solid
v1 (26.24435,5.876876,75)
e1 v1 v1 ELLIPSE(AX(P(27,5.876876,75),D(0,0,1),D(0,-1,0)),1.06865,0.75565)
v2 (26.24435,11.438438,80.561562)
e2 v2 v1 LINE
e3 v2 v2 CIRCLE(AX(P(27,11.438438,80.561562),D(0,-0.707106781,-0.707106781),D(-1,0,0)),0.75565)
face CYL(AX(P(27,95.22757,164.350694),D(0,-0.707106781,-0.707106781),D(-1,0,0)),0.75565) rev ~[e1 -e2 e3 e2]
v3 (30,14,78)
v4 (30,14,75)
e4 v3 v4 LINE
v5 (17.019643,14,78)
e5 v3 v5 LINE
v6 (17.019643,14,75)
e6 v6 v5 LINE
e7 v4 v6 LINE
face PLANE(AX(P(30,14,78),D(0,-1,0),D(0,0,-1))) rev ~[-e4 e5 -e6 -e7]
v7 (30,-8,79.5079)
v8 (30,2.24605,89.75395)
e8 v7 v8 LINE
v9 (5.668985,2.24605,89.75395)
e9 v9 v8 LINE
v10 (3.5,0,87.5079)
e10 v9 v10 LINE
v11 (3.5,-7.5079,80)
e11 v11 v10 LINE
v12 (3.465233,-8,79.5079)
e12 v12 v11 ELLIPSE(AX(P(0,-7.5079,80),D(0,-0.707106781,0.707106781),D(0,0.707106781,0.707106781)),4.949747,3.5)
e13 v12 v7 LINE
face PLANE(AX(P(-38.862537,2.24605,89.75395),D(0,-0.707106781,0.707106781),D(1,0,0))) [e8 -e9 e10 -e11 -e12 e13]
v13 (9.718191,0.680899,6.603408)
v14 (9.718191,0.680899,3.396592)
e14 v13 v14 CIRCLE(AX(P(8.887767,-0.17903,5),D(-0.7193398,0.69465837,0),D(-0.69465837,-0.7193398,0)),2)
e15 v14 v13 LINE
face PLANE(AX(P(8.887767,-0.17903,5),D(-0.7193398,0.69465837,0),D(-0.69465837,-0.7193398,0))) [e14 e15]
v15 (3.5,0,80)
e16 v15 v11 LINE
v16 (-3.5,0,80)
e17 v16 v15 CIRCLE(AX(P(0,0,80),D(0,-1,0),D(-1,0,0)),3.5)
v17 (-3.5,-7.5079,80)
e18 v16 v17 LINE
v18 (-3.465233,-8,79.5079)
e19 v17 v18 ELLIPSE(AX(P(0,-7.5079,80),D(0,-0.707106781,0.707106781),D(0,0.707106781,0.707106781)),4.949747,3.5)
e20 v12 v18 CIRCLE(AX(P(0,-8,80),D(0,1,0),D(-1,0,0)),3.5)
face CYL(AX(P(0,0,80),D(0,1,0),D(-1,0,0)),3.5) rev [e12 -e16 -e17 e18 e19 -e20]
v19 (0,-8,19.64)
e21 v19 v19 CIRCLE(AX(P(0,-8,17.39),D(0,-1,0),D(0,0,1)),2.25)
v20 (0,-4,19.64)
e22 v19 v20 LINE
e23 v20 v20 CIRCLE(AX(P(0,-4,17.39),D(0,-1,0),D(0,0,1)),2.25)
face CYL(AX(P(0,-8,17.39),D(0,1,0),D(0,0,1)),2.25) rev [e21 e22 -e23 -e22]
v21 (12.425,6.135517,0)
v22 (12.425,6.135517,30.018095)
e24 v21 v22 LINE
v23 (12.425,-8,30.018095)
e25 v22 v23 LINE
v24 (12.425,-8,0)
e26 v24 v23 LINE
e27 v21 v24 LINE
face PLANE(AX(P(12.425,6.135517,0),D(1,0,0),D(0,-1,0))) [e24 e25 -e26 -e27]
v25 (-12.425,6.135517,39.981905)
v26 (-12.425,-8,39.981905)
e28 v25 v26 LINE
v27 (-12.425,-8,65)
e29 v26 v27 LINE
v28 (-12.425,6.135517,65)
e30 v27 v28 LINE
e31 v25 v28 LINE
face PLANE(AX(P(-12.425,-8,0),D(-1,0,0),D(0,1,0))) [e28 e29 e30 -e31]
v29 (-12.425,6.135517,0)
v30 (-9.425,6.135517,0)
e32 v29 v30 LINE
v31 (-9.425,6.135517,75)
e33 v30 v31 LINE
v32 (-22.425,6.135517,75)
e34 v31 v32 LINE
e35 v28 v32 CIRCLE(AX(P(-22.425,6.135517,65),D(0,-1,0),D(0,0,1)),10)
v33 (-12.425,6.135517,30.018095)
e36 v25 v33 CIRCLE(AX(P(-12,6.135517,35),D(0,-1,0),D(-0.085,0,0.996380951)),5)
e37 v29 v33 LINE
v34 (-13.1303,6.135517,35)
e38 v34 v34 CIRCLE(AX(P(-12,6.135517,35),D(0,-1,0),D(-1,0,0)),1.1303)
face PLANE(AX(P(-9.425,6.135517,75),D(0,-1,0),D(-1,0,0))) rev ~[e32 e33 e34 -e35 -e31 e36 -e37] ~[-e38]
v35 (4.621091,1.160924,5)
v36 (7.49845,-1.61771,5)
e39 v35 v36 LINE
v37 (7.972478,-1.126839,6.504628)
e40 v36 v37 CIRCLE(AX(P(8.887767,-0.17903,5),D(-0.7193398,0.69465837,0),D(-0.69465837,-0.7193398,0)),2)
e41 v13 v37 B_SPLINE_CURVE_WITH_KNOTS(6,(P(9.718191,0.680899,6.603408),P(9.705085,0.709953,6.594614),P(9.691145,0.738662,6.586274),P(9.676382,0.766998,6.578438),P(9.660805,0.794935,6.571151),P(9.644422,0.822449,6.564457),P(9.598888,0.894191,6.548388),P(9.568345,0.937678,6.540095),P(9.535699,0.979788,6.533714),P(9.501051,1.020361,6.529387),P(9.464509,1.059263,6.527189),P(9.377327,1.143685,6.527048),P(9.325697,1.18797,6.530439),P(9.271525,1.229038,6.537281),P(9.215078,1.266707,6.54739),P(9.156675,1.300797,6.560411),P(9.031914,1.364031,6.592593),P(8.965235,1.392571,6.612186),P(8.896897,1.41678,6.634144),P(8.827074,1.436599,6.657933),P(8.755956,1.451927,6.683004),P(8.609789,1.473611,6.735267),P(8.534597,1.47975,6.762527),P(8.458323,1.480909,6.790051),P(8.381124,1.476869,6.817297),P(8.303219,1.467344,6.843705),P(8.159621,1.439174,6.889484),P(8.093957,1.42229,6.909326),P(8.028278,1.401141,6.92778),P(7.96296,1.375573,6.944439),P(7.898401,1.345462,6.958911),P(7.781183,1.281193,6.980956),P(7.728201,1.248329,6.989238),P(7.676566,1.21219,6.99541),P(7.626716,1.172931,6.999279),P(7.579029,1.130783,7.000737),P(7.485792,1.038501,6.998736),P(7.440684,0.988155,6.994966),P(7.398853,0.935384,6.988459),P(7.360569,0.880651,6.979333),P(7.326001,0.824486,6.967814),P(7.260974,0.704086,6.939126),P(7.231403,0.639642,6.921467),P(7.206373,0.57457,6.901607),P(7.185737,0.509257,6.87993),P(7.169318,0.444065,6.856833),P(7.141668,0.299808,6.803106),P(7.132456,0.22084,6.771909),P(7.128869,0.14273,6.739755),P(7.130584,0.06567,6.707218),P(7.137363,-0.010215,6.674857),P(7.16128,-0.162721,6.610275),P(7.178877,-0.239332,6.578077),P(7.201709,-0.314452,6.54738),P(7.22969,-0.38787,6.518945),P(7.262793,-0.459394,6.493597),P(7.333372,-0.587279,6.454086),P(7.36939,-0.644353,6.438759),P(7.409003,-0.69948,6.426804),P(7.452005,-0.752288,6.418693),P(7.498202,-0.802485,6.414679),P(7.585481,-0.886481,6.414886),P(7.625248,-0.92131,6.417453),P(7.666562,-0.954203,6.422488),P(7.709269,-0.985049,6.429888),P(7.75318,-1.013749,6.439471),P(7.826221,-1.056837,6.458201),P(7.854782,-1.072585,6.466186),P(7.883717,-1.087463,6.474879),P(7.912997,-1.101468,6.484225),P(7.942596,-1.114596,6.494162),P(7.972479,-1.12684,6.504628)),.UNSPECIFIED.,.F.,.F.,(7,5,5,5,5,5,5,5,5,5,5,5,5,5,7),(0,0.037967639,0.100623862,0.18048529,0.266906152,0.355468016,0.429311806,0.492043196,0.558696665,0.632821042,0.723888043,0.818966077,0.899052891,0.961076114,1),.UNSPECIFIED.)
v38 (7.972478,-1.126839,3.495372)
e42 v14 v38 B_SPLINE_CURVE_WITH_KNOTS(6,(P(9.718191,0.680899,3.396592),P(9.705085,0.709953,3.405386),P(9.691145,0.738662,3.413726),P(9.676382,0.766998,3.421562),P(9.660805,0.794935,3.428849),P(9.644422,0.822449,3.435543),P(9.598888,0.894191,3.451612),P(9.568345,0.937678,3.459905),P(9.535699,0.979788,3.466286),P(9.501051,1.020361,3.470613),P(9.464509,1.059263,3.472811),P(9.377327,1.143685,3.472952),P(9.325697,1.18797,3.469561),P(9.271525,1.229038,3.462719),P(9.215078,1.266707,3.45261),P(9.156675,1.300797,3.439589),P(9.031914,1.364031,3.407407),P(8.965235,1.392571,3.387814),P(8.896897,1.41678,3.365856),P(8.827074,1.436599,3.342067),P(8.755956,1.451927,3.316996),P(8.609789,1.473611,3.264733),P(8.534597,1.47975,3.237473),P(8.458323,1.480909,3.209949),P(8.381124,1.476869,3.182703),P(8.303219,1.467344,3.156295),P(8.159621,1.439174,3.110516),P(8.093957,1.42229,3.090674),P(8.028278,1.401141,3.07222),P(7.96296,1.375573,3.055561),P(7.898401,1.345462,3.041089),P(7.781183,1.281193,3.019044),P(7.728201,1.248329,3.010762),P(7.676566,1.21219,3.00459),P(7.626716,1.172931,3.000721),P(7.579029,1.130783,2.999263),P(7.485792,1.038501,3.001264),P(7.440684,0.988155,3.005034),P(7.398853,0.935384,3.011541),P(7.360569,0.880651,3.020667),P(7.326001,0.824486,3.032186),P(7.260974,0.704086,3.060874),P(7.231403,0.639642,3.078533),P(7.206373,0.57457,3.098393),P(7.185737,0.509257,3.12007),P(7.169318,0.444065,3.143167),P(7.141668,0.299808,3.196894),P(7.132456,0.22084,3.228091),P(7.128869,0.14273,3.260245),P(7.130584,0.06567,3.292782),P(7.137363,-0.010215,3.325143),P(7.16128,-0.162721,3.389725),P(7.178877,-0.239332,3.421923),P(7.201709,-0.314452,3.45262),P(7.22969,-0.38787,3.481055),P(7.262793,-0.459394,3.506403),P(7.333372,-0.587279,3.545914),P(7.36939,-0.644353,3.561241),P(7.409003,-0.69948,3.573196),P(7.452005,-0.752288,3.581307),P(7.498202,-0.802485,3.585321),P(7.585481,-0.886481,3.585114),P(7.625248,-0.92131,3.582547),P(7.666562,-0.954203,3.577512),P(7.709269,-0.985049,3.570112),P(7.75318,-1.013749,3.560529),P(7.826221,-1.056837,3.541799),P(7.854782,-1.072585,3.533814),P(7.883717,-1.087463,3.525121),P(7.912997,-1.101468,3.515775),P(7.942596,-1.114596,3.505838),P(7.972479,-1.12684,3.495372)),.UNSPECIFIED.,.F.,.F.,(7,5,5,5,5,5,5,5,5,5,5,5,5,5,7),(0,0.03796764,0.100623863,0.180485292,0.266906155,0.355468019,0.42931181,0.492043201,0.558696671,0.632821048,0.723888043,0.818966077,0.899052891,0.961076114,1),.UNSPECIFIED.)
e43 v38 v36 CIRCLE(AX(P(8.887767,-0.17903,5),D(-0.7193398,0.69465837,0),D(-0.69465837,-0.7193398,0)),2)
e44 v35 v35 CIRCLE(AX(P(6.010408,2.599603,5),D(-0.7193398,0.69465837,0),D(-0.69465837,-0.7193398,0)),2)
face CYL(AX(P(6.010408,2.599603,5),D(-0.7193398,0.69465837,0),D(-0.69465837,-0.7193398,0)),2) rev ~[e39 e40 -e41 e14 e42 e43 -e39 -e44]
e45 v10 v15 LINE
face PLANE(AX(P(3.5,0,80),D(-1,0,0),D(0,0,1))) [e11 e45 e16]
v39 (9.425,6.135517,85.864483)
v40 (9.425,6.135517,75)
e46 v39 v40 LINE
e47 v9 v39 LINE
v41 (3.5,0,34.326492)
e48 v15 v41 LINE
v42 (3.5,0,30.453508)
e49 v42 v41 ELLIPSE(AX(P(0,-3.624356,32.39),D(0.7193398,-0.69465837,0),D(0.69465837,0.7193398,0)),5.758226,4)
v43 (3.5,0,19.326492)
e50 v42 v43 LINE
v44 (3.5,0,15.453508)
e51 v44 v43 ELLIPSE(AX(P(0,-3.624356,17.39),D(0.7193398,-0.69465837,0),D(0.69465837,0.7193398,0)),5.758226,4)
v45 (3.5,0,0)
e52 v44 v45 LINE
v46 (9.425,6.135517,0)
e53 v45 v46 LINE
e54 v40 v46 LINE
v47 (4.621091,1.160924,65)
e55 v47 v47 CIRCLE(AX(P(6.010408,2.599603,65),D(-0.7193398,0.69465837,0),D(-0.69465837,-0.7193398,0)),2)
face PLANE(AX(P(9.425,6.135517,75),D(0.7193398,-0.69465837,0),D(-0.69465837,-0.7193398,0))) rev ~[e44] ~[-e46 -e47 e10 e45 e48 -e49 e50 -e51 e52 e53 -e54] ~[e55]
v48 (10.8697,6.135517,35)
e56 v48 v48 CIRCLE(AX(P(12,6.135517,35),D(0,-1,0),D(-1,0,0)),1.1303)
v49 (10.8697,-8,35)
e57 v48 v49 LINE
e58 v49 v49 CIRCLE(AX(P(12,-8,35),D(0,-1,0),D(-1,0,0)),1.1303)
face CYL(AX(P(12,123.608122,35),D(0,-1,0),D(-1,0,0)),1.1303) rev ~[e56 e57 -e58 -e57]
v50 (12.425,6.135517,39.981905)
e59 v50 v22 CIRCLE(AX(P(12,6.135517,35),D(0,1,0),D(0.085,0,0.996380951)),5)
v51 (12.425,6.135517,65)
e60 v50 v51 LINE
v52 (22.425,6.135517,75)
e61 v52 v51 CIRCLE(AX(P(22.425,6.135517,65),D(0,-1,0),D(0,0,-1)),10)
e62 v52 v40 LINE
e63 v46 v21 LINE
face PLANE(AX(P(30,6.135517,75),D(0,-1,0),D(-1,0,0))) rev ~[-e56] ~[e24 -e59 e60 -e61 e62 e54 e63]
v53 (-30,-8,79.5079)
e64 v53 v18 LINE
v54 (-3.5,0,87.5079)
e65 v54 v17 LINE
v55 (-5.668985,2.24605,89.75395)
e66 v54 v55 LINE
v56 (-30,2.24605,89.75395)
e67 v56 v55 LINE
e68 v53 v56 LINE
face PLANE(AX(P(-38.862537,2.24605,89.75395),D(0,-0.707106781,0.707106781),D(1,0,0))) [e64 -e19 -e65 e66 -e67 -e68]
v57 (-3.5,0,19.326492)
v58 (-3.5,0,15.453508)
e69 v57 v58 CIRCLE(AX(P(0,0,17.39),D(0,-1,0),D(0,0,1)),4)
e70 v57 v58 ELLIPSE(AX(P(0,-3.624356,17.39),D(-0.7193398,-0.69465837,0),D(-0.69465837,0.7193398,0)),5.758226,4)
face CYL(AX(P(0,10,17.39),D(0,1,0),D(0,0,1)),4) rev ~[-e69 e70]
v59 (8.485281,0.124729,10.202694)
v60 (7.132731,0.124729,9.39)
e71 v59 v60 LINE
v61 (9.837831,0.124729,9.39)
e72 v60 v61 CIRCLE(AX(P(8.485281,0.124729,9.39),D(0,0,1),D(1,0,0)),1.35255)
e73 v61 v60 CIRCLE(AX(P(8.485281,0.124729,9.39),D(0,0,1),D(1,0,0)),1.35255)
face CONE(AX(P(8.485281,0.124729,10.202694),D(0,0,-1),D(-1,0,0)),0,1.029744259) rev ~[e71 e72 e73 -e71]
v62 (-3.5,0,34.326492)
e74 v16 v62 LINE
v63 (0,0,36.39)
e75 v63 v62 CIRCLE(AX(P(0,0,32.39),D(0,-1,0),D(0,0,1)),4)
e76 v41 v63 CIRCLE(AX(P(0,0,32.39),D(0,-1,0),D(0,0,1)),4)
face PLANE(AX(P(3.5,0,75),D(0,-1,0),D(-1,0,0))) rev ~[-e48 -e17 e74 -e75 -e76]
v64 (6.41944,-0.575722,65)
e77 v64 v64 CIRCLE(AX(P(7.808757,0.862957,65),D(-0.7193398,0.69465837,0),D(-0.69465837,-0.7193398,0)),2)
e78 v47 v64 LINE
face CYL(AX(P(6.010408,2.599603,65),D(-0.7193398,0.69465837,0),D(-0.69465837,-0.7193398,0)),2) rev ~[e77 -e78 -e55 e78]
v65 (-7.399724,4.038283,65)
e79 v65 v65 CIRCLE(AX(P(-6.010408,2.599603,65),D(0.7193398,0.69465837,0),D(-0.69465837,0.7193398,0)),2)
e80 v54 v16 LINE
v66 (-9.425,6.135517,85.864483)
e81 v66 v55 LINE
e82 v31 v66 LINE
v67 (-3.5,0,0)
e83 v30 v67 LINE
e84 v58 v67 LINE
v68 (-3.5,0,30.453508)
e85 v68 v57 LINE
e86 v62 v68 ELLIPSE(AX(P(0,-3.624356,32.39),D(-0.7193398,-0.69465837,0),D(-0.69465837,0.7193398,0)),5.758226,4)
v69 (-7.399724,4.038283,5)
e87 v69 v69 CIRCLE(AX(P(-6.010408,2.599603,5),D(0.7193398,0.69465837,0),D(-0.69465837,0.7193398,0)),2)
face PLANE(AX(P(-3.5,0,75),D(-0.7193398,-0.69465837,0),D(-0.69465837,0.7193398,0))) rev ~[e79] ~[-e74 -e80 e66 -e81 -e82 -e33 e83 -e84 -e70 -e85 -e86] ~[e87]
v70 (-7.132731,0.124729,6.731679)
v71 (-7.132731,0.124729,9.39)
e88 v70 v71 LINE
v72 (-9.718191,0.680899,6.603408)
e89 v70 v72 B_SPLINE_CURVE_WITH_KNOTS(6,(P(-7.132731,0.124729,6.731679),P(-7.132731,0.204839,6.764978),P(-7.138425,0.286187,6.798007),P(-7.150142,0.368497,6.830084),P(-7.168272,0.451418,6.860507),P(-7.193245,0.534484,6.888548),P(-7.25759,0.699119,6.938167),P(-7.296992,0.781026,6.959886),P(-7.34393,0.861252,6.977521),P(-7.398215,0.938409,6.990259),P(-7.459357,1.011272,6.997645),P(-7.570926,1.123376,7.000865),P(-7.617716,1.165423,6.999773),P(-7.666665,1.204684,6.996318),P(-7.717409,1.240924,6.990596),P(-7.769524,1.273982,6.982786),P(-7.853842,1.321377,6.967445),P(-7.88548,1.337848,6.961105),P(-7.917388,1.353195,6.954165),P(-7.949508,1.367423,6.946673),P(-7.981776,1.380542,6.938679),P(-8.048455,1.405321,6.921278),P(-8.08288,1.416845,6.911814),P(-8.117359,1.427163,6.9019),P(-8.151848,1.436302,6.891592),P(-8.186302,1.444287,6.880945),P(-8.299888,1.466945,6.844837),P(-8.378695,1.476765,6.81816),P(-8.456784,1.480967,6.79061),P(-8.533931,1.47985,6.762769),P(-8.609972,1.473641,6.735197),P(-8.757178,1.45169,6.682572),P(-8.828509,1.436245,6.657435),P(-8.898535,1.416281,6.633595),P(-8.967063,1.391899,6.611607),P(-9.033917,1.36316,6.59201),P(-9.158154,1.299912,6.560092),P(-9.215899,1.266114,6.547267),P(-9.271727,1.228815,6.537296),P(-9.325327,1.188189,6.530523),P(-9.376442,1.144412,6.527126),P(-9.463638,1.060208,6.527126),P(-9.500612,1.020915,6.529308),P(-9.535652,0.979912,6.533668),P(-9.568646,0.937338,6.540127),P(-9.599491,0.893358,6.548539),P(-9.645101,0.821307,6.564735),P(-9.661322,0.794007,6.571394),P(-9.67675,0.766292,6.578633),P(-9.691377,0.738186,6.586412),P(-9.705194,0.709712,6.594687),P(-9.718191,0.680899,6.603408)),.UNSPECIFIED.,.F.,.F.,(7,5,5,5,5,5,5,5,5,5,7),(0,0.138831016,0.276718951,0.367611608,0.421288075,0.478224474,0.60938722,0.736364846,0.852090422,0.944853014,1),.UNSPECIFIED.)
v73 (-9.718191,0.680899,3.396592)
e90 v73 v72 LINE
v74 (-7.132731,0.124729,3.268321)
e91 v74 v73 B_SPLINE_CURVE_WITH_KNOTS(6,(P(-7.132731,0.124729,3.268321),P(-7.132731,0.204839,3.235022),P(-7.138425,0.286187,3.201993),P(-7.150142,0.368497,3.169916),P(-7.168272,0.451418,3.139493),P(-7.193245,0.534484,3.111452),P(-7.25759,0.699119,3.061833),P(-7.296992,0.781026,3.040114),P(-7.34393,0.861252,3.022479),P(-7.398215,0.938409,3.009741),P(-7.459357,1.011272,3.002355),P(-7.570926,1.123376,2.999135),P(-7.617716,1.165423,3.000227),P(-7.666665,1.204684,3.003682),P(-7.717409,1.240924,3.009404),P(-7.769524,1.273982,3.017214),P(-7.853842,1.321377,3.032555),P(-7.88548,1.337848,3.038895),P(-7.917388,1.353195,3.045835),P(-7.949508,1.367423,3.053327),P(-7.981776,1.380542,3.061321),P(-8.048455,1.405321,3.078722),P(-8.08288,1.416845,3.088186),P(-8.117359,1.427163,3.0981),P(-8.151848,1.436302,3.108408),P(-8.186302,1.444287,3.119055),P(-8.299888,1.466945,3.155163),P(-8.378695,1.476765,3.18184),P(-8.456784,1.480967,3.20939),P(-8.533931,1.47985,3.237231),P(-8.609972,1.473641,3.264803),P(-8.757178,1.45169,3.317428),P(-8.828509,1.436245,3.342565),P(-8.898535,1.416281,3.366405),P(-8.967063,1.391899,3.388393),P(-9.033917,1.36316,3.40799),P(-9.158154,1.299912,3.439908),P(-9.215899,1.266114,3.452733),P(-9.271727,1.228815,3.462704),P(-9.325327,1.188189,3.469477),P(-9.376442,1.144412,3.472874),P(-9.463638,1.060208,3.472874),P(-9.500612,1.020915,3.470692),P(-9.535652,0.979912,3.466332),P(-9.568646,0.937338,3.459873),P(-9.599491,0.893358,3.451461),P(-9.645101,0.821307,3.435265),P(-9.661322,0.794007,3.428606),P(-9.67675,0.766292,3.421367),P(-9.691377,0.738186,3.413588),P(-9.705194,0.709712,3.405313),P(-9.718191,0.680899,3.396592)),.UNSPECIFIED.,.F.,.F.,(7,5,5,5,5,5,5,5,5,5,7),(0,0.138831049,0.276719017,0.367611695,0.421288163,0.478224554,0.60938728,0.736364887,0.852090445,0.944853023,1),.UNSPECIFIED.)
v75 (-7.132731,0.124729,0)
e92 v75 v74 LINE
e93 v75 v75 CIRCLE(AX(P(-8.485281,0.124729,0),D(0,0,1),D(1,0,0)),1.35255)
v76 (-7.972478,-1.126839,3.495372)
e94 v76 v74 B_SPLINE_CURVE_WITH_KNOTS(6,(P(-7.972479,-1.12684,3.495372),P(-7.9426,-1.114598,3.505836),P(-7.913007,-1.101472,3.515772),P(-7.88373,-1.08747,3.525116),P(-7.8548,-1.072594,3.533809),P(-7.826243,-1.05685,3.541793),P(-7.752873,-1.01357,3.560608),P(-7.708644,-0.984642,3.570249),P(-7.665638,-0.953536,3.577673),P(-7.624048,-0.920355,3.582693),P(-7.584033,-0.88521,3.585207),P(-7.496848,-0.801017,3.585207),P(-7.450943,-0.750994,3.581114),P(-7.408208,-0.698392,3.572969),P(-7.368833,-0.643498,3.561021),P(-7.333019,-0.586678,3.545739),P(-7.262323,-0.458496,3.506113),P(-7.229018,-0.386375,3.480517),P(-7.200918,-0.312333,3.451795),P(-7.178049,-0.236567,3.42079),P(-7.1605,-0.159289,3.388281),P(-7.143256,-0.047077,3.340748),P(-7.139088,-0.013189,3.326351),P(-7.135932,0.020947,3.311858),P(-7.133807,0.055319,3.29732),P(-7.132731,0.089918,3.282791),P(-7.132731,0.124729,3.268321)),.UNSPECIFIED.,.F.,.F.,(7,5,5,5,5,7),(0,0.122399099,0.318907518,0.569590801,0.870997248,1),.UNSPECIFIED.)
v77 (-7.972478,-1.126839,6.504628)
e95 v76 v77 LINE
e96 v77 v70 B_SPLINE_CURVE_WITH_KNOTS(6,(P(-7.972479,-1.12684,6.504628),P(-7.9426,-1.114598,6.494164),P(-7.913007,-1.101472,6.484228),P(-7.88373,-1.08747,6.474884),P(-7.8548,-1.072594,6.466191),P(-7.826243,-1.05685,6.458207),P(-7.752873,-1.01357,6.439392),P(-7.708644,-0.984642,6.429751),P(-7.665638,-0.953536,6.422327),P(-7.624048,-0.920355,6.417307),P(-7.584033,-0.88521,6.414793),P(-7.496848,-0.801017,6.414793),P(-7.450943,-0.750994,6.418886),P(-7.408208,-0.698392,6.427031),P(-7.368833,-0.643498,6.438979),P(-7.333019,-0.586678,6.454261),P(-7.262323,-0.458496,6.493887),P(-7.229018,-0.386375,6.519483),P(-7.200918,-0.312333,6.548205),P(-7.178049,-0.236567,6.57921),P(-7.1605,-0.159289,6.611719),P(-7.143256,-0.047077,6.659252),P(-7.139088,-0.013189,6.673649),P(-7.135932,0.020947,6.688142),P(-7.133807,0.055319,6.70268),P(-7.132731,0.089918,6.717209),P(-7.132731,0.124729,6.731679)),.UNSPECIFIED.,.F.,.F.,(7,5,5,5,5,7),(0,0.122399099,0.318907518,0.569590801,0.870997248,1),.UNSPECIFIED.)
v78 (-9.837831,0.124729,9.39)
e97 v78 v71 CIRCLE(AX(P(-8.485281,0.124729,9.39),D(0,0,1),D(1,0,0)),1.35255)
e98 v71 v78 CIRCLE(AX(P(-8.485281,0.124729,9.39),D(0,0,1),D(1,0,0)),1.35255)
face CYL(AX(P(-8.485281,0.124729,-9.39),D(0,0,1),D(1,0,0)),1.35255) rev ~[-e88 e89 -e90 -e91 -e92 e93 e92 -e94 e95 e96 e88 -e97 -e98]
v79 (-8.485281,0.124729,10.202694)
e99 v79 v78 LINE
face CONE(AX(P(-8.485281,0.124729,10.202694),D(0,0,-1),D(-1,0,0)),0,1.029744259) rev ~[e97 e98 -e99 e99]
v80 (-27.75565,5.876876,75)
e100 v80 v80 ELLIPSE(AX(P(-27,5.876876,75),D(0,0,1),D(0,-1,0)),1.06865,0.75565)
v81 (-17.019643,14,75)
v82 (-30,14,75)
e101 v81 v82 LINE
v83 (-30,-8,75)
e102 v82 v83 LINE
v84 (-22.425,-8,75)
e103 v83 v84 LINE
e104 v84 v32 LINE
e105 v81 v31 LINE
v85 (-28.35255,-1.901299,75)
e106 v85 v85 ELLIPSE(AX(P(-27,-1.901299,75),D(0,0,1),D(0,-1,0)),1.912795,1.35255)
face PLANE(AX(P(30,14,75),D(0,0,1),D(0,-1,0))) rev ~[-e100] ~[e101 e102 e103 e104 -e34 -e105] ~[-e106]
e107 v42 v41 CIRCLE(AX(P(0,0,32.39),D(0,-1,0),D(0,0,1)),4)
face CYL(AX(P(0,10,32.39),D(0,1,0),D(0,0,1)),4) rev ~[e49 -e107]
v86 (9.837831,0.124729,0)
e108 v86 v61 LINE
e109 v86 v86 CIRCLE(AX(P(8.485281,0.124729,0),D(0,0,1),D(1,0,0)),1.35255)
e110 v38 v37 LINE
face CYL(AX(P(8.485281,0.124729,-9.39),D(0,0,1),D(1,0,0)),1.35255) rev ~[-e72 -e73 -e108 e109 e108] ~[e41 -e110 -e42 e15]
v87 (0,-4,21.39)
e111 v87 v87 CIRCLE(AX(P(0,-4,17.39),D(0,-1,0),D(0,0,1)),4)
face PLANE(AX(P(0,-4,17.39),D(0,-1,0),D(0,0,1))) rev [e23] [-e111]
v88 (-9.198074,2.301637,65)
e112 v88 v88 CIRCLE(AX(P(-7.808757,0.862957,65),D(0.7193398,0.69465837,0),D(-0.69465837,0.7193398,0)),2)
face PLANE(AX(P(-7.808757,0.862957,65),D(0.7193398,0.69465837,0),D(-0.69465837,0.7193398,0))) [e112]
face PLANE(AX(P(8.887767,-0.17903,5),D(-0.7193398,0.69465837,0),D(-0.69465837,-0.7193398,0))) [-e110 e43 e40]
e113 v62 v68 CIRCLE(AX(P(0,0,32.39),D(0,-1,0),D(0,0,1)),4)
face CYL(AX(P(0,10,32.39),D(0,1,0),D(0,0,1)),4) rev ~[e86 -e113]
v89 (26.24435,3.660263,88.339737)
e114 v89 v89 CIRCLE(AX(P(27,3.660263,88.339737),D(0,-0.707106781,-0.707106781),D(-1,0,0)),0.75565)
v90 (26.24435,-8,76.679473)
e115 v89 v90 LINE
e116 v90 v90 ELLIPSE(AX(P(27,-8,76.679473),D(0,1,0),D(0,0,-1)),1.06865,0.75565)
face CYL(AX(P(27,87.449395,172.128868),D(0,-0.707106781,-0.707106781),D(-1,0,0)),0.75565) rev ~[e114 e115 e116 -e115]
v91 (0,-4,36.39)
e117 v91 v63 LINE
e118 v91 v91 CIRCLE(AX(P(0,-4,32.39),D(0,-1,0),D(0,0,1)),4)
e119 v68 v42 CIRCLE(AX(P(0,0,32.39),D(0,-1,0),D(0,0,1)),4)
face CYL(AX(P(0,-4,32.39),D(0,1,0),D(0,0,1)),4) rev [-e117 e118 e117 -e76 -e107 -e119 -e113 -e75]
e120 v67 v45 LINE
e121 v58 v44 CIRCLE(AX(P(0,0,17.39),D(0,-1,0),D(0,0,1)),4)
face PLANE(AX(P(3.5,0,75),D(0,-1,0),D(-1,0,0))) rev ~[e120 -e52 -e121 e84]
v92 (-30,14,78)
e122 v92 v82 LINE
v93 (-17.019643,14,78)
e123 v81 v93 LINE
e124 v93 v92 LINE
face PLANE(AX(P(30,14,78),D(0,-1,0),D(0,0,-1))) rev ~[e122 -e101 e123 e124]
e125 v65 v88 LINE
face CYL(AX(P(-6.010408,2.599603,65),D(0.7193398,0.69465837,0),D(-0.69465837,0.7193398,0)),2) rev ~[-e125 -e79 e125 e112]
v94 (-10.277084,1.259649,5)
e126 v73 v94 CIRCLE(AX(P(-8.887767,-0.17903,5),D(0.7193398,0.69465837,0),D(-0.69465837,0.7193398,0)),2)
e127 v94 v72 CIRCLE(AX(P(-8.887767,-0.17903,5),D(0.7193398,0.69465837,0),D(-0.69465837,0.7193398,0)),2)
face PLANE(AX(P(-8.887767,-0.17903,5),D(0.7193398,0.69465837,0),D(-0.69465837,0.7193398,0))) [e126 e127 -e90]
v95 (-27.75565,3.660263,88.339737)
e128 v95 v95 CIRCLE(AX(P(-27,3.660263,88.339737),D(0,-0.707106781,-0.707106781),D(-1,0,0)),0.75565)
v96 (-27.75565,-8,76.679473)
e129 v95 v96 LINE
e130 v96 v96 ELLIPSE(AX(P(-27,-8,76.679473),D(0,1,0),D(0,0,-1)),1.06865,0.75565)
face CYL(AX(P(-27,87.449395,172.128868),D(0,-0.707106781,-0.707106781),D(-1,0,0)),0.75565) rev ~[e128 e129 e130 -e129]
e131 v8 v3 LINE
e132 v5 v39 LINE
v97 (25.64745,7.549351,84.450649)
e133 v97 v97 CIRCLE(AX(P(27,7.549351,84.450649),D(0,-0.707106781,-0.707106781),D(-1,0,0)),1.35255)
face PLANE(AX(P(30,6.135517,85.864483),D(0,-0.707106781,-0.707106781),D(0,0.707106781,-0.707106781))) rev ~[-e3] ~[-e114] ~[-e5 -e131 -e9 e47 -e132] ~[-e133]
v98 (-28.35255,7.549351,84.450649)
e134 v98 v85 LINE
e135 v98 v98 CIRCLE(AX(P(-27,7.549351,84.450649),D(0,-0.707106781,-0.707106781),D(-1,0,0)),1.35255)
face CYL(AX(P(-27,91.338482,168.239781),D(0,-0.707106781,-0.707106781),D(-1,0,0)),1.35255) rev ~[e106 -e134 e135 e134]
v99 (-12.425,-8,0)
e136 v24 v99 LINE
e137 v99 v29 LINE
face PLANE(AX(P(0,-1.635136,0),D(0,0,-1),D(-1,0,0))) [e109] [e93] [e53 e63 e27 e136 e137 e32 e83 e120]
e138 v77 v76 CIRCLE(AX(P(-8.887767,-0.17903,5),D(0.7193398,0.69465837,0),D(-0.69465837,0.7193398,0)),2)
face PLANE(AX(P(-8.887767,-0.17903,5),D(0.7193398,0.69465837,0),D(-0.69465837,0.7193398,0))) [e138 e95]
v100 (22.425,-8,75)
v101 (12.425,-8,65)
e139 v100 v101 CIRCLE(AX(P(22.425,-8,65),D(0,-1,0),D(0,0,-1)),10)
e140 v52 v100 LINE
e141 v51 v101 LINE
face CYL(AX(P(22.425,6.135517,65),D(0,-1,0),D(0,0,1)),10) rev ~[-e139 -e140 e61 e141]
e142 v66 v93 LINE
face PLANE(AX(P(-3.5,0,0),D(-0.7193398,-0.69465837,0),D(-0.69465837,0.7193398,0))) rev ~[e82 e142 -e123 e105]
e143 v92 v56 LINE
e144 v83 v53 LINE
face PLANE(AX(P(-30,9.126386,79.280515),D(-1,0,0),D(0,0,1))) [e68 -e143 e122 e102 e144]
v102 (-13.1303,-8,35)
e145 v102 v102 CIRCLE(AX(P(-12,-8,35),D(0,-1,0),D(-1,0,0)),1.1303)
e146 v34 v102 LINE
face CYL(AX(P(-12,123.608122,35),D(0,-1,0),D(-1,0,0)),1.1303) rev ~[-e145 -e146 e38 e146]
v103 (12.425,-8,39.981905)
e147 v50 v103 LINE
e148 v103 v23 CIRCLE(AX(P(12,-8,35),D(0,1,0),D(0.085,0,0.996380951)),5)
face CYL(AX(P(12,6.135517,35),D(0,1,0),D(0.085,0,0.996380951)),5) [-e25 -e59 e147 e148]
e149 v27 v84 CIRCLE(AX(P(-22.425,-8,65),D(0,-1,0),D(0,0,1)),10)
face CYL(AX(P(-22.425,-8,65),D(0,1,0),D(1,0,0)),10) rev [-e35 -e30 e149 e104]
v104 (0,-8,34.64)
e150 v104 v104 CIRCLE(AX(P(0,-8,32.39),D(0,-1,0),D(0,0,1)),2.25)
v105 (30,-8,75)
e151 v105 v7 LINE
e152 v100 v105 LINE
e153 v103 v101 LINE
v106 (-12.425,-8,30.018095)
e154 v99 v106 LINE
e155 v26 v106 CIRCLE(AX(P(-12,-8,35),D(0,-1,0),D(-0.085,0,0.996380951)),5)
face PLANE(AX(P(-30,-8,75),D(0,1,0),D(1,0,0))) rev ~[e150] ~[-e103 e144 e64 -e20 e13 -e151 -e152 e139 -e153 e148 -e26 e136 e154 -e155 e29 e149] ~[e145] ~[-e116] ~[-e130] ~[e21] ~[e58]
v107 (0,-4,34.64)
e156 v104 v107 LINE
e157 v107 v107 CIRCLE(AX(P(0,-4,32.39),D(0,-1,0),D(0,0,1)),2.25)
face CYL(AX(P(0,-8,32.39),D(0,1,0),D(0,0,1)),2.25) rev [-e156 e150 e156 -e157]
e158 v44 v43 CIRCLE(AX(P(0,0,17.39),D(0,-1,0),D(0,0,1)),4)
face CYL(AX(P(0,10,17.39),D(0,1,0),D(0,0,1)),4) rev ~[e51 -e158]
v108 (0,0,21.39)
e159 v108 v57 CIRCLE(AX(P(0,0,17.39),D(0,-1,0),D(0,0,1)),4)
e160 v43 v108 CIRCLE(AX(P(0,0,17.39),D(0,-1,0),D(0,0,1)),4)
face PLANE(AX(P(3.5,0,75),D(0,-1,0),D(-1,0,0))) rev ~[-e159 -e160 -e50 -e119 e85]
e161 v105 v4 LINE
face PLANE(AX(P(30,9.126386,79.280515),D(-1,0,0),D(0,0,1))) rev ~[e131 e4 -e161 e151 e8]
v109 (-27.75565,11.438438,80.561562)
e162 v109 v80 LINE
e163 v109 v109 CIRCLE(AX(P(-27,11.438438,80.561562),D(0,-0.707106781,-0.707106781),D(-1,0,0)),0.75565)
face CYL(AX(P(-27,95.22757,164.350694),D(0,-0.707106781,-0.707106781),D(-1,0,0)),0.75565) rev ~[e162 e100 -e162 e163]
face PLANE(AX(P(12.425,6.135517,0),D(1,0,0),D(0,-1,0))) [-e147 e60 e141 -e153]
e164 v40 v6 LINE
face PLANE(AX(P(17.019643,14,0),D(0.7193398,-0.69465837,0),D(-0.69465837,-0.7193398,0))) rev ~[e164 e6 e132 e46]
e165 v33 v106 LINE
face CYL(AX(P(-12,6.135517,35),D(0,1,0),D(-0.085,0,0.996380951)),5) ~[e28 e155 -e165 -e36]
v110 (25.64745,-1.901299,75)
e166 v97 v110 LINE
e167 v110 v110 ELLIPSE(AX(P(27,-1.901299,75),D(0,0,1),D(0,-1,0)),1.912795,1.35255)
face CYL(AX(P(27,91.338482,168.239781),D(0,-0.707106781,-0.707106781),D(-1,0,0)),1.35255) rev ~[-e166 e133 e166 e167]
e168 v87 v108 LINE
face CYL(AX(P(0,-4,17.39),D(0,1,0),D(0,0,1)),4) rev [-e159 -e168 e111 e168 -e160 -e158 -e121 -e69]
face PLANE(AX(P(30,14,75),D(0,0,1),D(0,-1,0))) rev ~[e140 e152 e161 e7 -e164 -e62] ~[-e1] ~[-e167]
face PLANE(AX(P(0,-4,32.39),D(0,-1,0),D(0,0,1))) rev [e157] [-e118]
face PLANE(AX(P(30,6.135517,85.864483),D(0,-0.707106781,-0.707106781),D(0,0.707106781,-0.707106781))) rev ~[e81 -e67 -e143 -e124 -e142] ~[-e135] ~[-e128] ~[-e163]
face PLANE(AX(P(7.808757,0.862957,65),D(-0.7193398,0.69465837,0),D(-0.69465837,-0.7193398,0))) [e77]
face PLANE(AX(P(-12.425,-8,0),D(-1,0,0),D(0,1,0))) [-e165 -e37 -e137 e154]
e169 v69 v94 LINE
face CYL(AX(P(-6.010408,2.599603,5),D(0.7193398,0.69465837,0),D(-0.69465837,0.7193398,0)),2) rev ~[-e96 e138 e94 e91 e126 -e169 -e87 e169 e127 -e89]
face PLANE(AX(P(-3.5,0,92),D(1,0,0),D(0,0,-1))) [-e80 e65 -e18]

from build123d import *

# Parameters (mm, degrees)
BOSS_EXTRUDE1_DEPTH           = 75
BOSS_EXTRUDE2_DEPTH           = 25
FILLET1_R                     = 10
CUT_EXTRUDE1_DEPTH            = 117.89311357
CBORE_FOR_M4_SHCS1_AT_2_COUNT = 2
CBORE_FOR_M4_SHCS1_AT_2_PITCH = 15
SKETCH8_R                     = 2
CUT_EXTRUDE2_DEPTH            = 4
SKETCH27_R                    = 2
CUT_EXTRUDE8_DEPTH            = 4
SKETCH29_R                    = 2
CUT_EXTRUDE9_DEPTH            = 2.5
SKETCH30_R                    = 2
CUT_EXTRUDE10_DEPTH           = 2.5
F_6_32_TAPPED_HOLE4_D         = 2.7051
F_6_32_TAPPED_HOLE4_DEPTH     = 9.39
F_6_32_TAPPED_HOLE4_TIP       = 0.81269403
BOSS_EXTRUDE4_DEPTH           = 14.135517109
F_4_40_TAPPED_HOLE1_D         = 2.2606
BOSS_EXTRUDE3_DEPTH           = 60
CUT_EXTRUDE3_DEPTH            = 118.45637488
CUT_EXTRUDE4_DEPTH            = 104.440804328
CUT_EXTRUDE5_DEPTH            = 104.440804328
F_6_32_TAPPED_HOLE3_D         = 2.7051
F_1_72_TAPPED_HOLE1_D         = 1.5113
SKETCH26_W                    = 78.957302066
SKETCH26_H                    = 14.945781294
CUT_EXTRUDE7_DEPTH            = 81.746516953
CUT_EXTRUDE11_START           = 10
SKETCH37_R                    = 4
CUT_EXTRUDE11_DEPTH           = 10


with BuildPart() as part:
    # Sketch1 → Boss-Extrude1 (new body)
    with BuildSketch(Plane.XY):
        Polygon((-3.5, 0), (3.5, 0), (9.425, 6.135517109), (12.425, 6.135517109), (12.425, -8), (-12.425, -8), (-12.425, 6.135517109), (-9.425, 6.135517109), align=None)
    extrude(amount=BOSS_EXTRUDE1_DEPTH)

    # Sketch2 → Boss-Extrude2 (add)
    with BuildSketch(Plane.XY.offset(75)):
        Polygon((-3.5, 0), (-9.425, 6.135517109), (-30, 6.135517109), (-30, -8), (30, -8), (30, 6.135517109), (9.425, 6.135517109), (3.5, 0), align=None)
    extrude(amount=BOSS_EXTRUDE2_DEPTH)

    # Fillet1
    fillet1_edges = [part.edges().sort_by_distance(p)[0] for p in [
        (-12.425, -0.932241445, 75),
        (12.425, -0.932241445, 75),
    ]]
    fillet(fillet1_edges, radius=FILLET1_R)

    # Sketch3 → Cut-Extrude1 (cut, through all)
    with BuildSketch(Plane(origin=(30, 0, 0), x_dir=(0, 0, -1), z_dir=(1, 0, 0))):
        Polygon((-100, -8), (-85.864482891, 6.135517109), (-100, 6.135517109), align=None)
    extrude(amount=-CUT_EXTRUDE1_DEPTH, mode=Mode.SUBTRACT)

    # Sketch6 → CBORE for M4 SHCS1 (revolve, cut)
    with BuildSketch(Plane(origin=(0, 0, 17.39), x_dir=(0, 0, 1), z_dir=(1, 0, 0))):
        Polygon((0, 0), (0, 8), (2.25, 8), (2.25, 4), (4, 4), (4, 0), align=None)
    cbore_for_m4_shcs1 = revolve(axis=Axis((0, 6.35, 17.39), (0, -1, 0)), mode=Mode.SUBTRACT)

    # CBORE for M4 SHCS1 at 2: CBORE for M4 SHCS1 ×2
    with Locations(*[(0, 0, i * CBORE_FOR_M4_SHCS1_AT_2_PITCH) for i in range(1, CBORE_FOR_M4_SHCS1_AT_2_COUNT)]):
        add(cbore_for_m4_shcs1, mode=Mode.SUBTRACT)

    # Sketch8 → Cut-Extrude2 (cut)
    with BuildSketch(Plane(origin=(1.811074119, -1.748933947, 0), x_dir=(0, 0, 1), z_dir=(-0.7193398003386524, 0.6946583704589959, 0))):
        with Locations(Location((5, 6.045178032, 0), (0, 0, 270))):
            Circle(SKETCH8_R)
    extrude(amount=-CUT_EXTRUDE2_DEPTH, mode=Mode.SUBTRACT)

    # Sketch27 → Cut-Extrude8 (cut)
    with BuildSketch(Plane(origin=(-1.811074119, -1.748933947, 0), x_dir=(0, 0, -1), z_dir=(0.7193398003386526, 0.6946583704589958, 0))):
        with Locations(Location((-5, 6.045178032, 0), (0, 0, 90))):
            Circle(SKETCH27_R)
    extrude(amount=-CUT_EXTRUDE8_DEPTH, mode=Mode.SUBTRACT)

    # Sketch29 → Cut-Extrude9 (cut)
    with BuildSketch(Plane(origin=(-1.811074119, -1.748933947, 0), x_dir=(0, 0, -1), z_dir=(0.7193398003386526, 0.6946583704589958, 0))):
        with Locations(Location((-65, 6.045178032, 0), (0, 0, 90))):
            Circle(SKETCH29_R)
    extrude(amount=-CUT_EXTRUDE9_DEPTH, mode=Mode.SUBTRACT)

    # Sketch30 → Cut-Extrude10 (cut)
    with BuildSketch(Plane(origin=(1.811074119, -1.748933947, 0), x_dir=(0, 0, 1), z_dir=(-0.7193398003386524, 0.6946583704589959, 0))):
        with Locations(Location((65, 6.045178032, 0), (0, 0, 270))):
            Circle(SKETCH30_R)
    extrude(amount=-CUT_EXTRUDE10_DEPTH, mode=Mode.SUBTRACT)

    # #6-32 Tapped Hole4
    with Locations(Plane(origin=(0, 0, 0), x_dir=(-1, 0, 0), z_dir=(0, 0, -1))):
        with Locations((-8.485281374, 0.124729477), (8.485281374, 0.124729477)):
            Hole(F_6_32_TAPPED_HOLE4_D / 2, depth=F_6_32_TAPPED_HOLE4_DEPTH)
            with Locations((0, 0, -(F_6_32_TAPPED_HOLE4_DEPTH + F_6_32_TAPPED_HOLE4_TIP / 2))):  # 118° drill point
                Cone(0, F_6_32_TAPPED_HOLE4_D / 2, F_6_32_TAPPED_HOLE4_TIP, mode=Mode.SUBTRACT)

    # Sketch33 → Boss-Extrude4 (add)
    with BuildSketch(Plane(origin=(0, 6.135517109, 0), x_dir=(1, 0, 0), z_dir=(0, 1, 0))):
        with BuildLine():
            Line((-12.425, -30.018095244), (-12.425, -39.981904756))
            ThreePointArc((-12.425, -39.981904756), (-17, -35), (-12.425, -30.018095244))
        make_face()
        with BuildLine():
            Line((12.425, -30.018095244), (12.425, -39.981904756))
            ThreePointArc((12.425, -39.981904756), (17, -35), (12.425, -30.018095244))
        make_face()
    extrude(amount=-BOSS_EXTRUDE4_DEPTH)

    # #4-40 Tapped Hole1 (through all)
    with Locations(Plane(origin=(0, 6.135517109, 0), x_dir=(1, 0, 0), z_dir=(0, 1, 0))):
        with Locations((-12, -35), (12, -35)):
            Hole(F_4_40_TAPPED_HOLE1_D / 2)

    # Sketch9 → Boss-Extrude3 (add)
    with BuildSketch(Plane(origin=(30, 0, 0), x_dir=(0, 0, -1), z_dir=(1, 0, 0))):
        Polygon((-85.864482891, 6.135517109), (-78, 14), (-75, 14), (-75, 6.135517109), align=None)
    extrude(amount=-BOSS_EXTRUDE3_DEPTH)

    # Sketch10 → Cut-Extrude3 (cut, through all)
    with BuildSketch(Plane(origin=(30, 0, 0), x_dir=(0, 0, -1), z_dir=(1, 0, 0))):
        Polygon((-100, -8), (-98, -6), (-98, -8), align=None)
    extrude(amount=-CUT_EXTRUDE3_DEPTH, mode=Mode.SUBTRACT)

    # Sketch11 → Cut-Extrude4 (cut, through all)
    with BuildSketch(Plane(origin=(0, 0, 0), x_dir=(-1, 0, 0), z_dir=(0, 0, -1))):
        Polygon((-3.5, 0), (3.5, 0), (17.019642847, 14), (-17.019642847, 14), align=None)
    extrude(amount=-CUT_EXTRUDE4_DEPTH, mode=Mode.SUBTRACT)

    # Sketch12 → Cut-Extrude5 (cut, through all)
    with BuildSketch(Plane(origin=(0, 0, 0), x_dir=(1, 0, 0), z_dir=(0, 1, 0))):
        with BuildLine():
            Line((3.5, -80), (3.5, -92))
            Line((3.5, -92), (-3.5, -92))
            Line((-3.5, -92), (-3.5, -80))
            ThreePointArc((-3.5, -80), (0, -76.5), (3.5, -80))
        make_face()
    extrude(amount=-CUT_EXTRUDE5_DEPTH, mode=Mode.SUBTRACT)

    # #6-32 Tapped Hole3 (through all)
    with Locations(Plane(origin=(0, 47.060660172, 47.060660172), x_dir=(1, 0, 0), z_dir=(0, 0.7071067811865434, 0.7071067811865517))):
        with Locations((-27, -54.377429751), (27, -54.377429751)):
            Hole(F_6_32_TAPPED_HOLE3_D / 2)

    # #1-72 Tapped Hole1 (through all)
    with Locations(Plane(origin=(0, 47.060660172, 47.060660172), x_dir=(1, 0, 0), z_dir=(0, 0.7071067811865434, 0.7071067811865517))):
        with Locations((-27, -48.877429751), (-27, -59.877429751), (27, -48.877429751), (27, -59.877429751)):
            Hole(F_1_72_TAPPED_HOLE1_D / 2)

    # Sketch26 → Cut-Extrude7 (cut, through all)
    with BuildSketch(Plane(origin=(0, 46, 46), x_dir=(1, 0, 0), z_dir=(0, 0.7071067811865434, 0.7071067811865517))):
        with Locations((0.61611421, -69.350320398)):
            Rectangle(SKETCH26_W, SKETCH26_H)
    extrude(amount=-CUT_EXTRUDE7_DEPTH, mode=Mode.SUBTRACT)

    # Sketch37 → Cut-Extrude11 (cut)
    with BuildSketch(Plane(origin=(0, 0, 0), x_dir=(1, 0, 0), z_dir=(0, 1, 0)).offset(CUT_EXTRUDE11_START)):
        with Locations(Location((0, -17.39, 0), (0, 0, 270))):
            Circle(SKETCH37_R)
        with Locations(Location((0, -32.39, 0), (0, 0, 270))):
            Circle(SKETCH37_R)
    extrude(amount=-CUT_EXTRUDE11_DEPTH, mode=Mode.SUBTRACT)


solid = part.part
